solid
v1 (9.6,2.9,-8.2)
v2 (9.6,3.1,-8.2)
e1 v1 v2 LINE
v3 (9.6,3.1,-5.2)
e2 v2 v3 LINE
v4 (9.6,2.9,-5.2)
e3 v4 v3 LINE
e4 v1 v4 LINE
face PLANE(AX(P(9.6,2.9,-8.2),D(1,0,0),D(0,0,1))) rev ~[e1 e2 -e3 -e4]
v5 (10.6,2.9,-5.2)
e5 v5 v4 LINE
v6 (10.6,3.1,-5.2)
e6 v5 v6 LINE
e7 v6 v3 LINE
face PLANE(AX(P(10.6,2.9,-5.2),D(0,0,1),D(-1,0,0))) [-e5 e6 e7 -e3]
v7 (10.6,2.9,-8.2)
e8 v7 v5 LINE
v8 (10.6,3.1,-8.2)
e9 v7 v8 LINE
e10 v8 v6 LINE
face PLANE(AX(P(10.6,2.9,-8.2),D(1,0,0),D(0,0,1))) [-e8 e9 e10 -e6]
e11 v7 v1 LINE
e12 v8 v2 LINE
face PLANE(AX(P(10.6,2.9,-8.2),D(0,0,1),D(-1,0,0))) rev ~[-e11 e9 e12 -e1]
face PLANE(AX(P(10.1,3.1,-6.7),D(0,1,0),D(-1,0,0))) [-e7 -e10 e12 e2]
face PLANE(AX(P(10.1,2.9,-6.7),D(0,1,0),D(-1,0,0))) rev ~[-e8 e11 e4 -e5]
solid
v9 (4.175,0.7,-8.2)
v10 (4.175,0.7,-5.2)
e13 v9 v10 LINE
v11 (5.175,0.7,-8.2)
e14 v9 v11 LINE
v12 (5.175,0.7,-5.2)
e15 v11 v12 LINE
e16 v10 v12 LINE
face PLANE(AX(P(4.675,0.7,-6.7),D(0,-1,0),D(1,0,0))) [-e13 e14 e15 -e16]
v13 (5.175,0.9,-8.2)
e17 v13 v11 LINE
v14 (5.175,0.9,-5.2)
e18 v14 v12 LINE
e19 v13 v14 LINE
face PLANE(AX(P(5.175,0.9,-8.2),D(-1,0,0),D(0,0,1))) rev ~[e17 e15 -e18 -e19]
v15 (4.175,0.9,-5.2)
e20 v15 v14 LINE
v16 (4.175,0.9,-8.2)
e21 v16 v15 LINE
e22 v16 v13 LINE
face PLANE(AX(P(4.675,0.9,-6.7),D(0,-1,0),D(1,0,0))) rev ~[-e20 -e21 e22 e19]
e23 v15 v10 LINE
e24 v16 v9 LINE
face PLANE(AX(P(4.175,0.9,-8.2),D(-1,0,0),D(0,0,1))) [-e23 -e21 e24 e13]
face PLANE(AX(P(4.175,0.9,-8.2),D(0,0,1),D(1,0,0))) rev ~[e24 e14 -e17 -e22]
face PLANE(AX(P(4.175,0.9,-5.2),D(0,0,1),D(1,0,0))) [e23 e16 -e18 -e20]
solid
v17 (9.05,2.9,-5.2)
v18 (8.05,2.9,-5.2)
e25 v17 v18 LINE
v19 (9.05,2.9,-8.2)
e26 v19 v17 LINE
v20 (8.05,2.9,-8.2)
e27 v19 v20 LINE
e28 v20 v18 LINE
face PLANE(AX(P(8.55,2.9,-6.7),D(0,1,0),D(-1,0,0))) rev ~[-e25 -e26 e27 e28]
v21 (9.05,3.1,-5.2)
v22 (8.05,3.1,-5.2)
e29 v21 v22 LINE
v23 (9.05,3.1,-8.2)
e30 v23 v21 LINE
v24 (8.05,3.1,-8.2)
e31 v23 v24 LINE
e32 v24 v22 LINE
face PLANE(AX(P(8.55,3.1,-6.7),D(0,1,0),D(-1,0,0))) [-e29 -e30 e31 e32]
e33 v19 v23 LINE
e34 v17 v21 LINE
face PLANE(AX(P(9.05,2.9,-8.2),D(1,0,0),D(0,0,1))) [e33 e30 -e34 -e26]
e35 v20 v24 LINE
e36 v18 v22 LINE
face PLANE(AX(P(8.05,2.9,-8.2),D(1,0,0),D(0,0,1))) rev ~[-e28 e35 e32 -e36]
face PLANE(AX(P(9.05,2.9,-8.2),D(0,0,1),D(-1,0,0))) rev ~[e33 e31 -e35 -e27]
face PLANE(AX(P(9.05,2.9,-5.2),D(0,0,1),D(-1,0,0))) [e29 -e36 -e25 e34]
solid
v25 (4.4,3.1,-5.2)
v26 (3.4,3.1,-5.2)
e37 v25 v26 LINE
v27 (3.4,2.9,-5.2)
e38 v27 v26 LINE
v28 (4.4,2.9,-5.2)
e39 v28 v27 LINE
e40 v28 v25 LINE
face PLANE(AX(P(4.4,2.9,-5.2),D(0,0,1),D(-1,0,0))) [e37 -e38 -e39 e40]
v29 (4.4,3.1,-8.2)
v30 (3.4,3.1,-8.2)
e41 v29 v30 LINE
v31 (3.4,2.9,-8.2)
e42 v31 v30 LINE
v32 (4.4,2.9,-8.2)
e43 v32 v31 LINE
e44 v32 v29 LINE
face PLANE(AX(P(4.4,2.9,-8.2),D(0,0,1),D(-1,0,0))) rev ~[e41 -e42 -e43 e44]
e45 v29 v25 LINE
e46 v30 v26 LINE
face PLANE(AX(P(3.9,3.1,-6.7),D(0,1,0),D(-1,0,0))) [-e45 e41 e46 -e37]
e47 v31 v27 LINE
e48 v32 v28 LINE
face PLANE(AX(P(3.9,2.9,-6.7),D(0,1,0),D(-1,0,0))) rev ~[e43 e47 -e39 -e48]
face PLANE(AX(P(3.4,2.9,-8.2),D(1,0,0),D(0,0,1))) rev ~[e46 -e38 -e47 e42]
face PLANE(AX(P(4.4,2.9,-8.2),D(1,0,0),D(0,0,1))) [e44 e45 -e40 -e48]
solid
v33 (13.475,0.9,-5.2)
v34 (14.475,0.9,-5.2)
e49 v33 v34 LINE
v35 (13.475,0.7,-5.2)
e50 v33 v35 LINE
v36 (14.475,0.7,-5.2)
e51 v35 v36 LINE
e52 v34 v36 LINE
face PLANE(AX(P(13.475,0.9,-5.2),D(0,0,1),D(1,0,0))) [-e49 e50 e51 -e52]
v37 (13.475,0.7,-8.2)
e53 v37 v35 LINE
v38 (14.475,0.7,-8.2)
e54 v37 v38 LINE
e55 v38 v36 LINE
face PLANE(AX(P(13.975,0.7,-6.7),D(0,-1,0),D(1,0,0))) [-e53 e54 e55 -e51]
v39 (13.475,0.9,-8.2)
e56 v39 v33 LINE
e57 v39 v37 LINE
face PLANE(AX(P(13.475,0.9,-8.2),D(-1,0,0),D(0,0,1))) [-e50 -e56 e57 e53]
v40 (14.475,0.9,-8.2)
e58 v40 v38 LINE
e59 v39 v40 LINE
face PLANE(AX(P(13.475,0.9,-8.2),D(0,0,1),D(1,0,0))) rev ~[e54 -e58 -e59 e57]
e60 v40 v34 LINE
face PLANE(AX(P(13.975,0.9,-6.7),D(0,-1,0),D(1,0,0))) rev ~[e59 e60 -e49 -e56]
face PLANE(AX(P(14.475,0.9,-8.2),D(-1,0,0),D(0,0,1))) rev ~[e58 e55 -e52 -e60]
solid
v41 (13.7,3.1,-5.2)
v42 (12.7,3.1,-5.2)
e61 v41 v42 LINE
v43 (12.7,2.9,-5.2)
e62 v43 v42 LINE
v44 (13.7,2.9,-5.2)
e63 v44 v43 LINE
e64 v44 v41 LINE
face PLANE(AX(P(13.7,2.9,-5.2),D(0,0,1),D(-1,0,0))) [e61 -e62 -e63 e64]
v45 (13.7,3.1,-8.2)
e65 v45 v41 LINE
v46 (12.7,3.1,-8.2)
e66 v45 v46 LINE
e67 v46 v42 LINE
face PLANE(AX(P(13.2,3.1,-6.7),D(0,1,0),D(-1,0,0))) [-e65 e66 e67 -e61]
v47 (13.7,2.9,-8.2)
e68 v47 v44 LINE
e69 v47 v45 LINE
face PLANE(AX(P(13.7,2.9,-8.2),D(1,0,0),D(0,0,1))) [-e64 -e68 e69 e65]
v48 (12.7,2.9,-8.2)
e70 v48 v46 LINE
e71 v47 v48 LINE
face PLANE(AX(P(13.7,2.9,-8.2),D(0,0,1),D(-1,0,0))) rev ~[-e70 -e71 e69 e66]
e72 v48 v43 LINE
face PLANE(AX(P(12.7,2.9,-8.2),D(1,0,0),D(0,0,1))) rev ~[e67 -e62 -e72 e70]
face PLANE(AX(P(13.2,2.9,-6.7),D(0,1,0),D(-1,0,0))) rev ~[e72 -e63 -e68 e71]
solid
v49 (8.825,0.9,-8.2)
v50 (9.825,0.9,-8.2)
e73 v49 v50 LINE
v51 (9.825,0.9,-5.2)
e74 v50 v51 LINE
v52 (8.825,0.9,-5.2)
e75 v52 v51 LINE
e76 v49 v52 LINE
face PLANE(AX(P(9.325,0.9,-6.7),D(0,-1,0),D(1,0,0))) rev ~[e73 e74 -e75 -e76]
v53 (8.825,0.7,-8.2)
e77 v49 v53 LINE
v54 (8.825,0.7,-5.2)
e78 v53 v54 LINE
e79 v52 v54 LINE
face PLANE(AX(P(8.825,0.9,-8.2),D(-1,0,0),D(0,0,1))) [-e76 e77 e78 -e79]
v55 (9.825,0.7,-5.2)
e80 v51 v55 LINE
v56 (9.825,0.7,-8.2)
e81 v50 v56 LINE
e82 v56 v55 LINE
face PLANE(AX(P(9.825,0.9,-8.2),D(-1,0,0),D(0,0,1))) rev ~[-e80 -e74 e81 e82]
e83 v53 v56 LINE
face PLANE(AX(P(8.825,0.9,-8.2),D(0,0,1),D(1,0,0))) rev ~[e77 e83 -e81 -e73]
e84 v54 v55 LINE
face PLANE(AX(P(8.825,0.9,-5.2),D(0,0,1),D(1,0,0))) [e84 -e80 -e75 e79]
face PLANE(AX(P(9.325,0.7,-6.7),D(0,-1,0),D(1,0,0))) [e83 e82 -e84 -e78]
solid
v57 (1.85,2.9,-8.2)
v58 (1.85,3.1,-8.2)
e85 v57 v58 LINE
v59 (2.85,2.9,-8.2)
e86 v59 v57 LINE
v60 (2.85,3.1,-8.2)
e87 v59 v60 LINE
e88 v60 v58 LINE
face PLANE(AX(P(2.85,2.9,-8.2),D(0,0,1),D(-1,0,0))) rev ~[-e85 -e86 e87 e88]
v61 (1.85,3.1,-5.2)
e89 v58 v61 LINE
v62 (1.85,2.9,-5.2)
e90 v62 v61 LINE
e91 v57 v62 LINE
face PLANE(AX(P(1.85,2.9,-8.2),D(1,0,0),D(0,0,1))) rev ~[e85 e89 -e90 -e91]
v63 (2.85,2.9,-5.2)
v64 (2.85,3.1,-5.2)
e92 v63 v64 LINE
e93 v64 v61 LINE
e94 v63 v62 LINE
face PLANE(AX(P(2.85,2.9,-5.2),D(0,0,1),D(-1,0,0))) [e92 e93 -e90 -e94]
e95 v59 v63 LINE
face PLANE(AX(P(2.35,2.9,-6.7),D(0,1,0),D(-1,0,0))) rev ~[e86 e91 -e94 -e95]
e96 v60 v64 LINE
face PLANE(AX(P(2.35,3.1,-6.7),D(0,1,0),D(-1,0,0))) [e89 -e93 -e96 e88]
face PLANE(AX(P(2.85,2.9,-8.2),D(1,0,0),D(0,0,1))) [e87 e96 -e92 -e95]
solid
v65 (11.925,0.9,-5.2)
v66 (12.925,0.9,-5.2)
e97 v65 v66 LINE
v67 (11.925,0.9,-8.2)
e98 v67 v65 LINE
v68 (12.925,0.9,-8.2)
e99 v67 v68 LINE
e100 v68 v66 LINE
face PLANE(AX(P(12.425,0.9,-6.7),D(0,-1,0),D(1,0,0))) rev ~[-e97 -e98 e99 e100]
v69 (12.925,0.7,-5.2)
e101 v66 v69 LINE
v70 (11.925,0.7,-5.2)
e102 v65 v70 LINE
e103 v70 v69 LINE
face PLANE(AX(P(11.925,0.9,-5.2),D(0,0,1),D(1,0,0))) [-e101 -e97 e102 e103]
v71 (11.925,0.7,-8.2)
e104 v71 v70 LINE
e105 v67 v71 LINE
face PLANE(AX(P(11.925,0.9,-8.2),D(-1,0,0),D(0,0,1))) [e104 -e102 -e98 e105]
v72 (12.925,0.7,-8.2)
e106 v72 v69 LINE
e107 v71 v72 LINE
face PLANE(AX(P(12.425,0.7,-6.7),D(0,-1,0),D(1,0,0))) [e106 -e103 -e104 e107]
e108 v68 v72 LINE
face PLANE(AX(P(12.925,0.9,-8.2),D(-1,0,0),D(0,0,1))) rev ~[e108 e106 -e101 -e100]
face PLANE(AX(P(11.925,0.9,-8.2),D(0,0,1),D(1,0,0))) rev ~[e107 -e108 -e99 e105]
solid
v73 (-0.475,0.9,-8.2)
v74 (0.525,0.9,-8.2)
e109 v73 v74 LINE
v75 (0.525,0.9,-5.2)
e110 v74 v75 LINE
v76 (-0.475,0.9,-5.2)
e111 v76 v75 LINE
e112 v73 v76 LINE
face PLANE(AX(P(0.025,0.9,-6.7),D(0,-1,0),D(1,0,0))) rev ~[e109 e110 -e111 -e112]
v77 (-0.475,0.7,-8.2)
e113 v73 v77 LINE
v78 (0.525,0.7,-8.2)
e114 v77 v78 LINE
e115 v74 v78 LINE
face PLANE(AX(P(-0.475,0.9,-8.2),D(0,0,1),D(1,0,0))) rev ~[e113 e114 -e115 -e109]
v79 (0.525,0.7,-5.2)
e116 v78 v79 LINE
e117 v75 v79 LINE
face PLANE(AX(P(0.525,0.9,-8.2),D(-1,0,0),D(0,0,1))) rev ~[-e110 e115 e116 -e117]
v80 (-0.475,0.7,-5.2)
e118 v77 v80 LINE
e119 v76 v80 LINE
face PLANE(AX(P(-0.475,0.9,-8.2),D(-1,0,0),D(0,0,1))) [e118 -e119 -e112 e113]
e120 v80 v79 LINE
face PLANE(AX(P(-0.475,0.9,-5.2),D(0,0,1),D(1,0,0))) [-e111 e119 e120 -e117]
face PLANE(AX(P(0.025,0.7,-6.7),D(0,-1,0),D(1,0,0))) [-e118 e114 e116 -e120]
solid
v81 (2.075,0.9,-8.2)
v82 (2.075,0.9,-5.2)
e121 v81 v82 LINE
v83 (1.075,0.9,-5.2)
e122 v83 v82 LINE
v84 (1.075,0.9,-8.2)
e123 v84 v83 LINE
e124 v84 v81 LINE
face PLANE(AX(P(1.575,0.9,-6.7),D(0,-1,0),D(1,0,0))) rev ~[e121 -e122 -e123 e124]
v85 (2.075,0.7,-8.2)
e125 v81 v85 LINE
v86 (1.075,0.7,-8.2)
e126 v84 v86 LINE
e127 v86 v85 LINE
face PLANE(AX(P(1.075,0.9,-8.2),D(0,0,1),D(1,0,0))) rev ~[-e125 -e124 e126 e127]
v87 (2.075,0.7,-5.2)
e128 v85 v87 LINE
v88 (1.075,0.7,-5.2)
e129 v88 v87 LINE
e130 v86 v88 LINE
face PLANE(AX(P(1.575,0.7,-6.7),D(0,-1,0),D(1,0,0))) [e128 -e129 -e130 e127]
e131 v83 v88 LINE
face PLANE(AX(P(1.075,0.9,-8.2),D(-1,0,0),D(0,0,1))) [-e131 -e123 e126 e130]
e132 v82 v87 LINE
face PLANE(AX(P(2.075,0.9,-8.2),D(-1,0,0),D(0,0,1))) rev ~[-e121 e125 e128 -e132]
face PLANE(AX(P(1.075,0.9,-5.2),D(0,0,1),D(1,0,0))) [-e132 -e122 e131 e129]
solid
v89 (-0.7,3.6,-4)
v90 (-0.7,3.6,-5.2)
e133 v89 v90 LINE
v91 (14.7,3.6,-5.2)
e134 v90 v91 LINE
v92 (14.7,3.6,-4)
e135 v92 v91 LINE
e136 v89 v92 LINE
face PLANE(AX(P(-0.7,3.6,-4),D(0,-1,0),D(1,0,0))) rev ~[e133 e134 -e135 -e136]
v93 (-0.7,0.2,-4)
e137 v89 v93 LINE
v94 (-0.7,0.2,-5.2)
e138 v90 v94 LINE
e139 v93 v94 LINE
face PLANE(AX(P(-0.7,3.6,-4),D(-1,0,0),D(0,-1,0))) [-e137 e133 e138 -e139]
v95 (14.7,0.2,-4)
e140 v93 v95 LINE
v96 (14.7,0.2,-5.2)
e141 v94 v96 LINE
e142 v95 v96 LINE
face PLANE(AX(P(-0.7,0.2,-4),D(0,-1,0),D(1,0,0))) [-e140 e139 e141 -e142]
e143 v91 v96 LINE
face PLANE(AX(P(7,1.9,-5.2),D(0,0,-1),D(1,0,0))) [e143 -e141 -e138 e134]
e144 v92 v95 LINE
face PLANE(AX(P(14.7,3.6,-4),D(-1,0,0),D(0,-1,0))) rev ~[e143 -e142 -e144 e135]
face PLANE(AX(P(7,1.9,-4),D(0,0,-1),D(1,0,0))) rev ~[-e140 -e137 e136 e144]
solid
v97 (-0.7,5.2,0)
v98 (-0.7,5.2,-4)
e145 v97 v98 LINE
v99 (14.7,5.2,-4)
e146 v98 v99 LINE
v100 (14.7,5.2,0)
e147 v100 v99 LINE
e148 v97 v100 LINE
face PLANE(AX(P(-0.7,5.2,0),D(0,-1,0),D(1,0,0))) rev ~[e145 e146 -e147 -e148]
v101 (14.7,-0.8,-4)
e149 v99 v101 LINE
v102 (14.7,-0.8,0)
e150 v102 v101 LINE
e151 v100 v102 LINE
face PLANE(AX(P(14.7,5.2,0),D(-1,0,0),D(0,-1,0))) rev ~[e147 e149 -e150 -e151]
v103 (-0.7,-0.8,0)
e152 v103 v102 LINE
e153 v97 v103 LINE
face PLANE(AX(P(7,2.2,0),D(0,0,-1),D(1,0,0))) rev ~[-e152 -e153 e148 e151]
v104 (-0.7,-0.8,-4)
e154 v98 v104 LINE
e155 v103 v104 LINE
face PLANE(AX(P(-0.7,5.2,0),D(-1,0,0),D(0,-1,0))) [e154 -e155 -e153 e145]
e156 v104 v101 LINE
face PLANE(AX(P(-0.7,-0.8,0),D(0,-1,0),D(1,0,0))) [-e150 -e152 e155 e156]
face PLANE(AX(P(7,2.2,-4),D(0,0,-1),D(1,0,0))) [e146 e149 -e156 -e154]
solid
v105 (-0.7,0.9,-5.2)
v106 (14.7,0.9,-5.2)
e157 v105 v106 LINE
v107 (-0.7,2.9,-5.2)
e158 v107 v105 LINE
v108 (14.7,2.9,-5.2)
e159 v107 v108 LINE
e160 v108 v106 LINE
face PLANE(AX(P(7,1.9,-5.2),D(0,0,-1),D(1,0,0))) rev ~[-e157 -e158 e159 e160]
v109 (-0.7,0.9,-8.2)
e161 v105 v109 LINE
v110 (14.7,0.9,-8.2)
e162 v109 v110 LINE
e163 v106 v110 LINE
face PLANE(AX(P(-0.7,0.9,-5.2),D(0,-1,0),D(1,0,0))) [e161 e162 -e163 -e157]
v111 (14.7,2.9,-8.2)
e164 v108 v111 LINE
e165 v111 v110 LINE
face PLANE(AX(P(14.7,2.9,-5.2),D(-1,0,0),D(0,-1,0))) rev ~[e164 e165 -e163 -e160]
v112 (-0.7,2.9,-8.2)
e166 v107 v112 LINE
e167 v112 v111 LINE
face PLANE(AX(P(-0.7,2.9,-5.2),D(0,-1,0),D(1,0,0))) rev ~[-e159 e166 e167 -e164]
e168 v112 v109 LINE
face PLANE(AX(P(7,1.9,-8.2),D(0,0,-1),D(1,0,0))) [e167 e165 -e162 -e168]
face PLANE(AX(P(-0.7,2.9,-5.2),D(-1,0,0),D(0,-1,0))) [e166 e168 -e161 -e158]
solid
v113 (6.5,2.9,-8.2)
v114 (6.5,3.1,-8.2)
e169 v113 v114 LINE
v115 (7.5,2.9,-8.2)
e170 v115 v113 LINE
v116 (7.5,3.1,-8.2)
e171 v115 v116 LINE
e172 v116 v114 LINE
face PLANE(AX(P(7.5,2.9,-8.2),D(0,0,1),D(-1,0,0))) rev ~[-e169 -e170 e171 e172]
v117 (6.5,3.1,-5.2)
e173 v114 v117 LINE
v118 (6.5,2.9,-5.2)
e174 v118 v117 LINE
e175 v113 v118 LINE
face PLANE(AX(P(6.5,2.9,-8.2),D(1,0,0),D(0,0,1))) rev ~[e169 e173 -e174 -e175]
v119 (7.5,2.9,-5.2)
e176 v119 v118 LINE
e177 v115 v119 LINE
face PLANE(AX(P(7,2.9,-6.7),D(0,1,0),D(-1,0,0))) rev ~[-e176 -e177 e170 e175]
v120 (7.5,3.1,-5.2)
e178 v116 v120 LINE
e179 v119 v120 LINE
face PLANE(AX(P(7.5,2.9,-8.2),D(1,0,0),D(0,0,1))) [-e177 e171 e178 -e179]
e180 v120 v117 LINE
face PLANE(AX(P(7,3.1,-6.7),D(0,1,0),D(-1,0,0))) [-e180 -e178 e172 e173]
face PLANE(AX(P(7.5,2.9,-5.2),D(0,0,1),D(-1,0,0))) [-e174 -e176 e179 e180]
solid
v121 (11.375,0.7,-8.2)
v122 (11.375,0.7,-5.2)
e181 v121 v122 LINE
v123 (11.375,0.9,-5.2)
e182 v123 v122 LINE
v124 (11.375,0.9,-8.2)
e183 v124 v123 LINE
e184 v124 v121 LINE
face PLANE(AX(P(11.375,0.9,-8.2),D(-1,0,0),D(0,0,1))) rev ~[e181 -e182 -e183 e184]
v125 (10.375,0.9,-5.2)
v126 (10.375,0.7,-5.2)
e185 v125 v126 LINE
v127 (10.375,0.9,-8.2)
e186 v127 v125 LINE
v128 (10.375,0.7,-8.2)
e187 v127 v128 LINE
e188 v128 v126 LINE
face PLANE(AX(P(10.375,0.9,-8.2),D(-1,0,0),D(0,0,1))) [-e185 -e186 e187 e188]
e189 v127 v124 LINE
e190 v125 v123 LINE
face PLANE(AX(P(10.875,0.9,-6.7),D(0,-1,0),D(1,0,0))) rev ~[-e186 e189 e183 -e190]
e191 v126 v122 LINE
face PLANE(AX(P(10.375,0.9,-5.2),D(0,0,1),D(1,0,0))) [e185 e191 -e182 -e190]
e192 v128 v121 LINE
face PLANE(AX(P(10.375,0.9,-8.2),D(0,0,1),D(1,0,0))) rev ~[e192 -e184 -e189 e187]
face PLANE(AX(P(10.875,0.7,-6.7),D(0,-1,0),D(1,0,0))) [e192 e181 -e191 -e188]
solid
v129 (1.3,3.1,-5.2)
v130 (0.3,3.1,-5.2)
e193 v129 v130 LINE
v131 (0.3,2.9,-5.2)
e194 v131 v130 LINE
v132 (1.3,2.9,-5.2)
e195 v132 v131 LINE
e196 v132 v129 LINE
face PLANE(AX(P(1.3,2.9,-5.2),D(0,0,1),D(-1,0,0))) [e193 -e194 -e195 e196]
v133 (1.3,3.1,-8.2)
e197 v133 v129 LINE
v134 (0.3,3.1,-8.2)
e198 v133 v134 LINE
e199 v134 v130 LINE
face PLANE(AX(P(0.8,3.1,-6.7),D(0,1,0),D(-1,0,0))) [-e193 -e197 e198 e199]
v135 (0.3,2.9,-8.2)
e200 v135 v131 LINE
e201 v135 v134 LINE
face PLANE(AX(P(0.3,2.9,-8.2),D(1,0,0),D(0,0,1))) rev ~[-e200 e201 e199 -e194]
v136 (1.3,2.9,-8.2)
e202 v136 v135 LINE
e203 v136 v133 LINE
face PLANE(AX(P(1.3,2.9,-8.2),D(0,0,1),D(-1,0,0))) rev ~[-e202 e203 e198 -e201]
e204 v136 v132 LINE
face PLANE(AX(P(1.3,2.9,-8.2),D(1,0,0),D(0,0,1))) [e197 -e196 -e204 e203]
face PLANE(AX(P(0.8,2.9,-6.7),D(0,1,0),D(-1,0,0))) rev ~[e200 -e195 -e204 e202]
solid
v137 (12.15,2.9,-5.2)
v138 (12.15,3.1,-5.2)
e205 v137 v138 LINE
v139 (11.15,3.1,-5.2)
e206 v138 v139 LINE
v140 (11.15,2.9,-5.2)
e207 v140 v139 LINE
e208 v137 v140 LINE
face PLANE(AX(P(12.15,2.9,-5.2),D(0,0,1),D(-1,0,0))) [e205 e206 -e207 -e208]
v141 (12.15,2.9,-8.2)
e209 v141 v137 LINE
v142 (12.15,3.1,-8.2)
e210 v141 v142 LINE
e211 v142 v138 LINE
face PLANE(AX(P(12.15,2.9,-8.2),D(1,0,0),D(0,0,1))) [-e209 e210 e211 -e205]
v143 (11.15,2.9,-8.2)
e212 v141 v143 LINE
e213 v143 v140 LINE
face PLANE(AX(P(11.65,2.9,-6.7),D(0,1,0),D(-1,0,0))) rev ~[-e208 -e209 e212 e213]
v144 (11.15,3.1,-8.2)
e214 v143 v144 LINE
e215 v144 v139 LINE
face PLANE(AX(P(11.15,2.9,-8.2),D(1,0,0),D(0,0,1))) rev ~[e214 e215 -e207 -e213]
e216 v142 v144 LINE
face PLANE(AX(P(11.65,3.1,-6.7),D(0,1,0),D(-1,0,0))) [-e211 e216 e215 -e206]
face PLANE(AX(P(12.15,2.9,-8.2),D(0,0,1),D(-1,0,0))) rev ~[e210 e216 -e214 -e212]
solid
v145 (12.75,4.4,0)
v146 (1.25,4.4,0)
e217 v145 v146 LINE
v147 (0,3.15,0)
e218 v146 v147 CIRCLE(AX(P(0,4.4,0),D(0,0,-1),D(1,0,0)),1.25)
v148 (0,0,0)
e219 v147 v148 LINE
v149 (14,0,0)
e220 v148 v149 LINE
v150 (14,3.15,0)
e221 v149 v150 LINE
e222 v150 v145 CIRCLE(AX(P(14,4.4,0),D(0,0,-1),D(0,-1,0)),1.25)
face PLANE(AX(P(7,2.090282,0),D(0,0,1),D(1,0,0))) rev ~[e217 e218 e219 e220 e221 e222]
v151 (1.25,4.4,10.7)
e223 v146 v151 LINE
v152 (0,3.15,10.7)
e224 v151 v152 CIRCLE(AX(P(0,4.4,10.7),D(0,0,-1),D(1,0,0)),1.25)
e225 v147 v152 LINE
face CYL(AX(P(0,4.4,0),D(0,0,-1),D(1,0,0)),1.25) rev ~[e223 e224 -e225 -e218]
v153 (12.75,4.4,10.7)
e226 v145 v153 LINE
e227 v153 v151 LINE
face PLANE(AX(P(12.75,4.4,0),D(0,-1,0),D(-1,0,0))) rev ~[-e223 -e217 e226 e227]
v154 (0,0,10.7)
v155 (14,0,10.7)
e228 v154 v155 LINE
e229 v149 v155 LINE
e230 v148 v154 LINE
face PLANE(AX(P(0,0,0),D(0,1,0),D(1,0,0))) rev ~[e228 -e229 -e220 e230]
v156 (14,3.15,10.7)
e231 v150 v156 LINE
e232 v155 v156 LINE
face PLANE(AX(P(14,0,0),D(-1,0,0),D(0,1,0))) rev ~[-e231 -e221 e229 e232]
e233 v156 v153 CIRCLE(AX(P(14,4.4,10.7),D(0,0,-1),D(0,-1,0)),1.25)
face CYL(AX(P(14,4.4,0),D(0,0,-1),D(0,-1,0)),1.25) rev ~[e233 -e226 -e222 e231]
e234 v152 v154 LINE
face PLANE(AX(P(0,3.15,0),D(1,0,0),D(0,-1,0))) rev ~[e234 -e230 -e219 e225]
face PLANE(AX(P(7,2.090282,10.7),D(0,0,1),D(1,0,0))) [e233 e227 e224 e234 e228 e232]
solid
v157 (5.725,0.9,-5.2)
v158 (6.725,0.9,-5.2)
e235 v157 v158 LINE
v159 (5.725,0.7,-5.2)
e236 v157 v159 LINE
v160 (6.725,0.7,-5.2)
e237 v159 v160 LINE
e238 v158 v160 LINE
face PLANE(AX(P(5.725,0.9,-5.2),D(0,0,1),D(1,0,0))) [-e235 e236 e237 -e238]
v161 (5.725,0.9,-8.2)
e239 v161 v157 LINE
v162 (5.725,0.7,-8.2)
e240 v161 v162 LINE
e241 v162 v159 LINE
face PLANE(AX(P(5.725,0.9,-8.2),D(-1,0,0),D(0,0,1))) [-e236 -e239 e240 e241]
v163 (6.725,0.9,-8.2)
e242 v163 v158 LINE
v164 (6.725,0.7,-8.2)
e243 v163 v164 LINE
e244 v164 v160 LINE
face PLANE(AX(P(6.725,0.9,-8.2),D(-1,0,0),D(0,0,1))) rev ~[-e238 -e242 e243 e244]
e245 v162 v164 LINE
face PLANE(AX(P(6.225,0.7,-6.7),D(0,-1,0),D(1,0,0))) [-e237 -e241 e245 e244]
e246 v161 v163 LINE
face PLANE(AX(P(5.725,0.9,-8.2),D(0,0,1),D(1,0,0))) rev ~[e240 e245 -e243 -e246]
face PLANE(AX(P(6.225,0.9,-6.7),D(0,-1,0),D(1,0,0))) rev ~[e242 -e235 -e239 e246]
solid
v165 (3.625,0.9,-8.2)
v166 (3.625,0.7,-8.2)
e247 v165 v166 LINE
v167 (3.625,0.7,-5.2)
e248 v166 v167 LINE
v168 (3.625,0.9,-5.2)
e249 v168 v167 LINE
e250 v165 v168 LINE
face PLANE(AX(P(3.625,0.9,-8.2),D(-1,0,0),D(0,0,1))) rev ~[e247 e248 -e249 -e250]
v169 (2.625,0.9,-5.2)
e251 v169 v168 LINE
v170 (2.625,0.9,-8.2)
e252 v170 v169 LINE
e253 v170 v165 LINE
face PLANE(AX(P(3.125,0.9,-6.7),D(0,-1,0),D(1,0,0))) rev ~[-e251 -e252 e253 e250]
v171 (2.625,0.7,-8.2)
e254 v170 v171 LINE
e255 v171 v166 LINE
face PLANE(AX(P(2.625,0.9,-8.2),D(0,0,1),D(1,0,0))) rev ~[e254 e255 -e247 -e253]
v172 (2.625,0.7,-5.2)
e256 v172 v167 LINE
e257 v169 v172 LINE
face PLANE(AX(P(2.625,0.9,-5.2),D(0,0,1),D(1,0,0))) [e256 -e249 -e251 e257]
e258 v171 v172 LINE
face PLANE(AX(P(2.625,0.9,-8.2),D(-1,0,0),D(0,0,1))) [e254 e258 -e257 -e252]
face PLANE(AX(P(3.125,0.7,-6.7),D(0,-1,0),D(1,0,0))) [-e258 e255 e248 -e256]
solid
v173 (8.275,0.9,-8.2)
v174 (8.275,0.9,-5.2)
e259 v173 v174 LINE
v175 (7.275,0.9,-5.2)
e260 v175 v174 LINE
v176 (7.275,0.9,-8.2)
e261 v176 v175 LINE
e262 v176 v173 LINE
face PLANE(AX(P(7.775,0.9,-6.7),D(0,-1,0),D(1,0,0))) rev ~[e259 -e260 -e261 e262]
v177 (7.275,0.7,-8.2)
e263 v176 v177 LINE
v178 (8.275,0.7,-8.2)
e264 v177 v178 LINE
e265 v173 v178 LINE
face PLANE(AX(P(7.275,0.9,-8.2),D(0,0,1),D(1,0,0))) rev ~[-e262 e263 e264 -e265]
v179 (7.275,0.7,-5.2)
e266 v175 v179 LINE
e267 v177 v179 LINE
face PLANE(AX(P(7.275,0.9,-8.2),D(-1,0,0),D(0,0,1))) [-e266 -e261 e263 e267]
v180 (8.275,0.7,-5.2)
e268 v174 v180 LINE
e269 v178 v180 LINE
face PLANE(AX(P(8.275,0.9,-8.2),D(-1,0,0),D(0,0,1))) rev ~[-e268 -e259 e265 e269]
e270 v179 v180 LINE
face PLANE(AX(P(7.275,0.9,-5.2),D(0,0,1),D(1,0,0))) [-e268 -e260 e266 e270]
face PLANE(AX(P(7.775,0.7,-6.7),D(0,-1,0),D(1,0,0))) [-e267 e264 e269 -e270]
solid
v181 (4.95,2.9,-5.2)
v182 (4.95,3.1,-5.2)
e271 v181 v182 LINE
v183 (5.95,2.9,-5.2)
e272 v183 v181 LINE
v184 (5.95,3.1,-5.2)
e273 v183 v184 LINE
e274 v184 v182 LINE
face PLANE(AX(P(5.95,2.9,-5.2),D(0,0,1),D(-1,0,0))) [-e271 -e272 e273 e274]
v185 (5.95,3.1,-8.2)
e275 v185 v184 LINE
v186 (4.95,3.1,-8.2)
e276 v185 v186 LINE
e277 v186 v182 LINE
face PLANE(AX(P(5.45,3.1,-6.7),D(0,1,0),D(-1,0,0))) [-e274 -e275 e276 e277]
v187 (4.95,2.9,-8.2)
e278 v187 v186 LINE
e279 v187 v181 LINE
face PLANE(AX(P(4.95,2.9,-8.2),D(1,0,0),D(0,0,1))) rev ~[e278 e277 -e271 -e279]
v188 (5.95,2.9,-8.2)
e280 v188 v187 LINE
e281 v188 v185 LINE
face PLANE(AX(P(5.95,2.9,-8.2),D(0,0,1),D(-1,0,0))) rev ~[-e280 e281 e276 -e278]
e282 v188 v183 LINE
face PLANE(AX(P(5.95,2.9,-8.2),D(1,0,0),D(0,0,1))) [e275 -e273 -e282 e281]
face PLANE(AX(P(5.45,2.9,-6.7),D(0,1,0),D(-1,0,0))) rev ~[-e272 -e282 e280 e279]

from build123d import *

# Parameters (mm, degrees)
F1_DEPTH  = 10.7
F2_W      = 15.4
F2_H      = 6
F3_DEPTH  = 4
F4_W      = 15.4
F4_H      = 3.4
F5_DEPTH  = 1.2
F6_W      = 15.4
F6_H      = 2
F7_DEPTH  = 3
F8_W      = 1
F8_H      = 3
F9_DEPTH  = 0.2
F10_W     = 1
F10_H     = 3
F11_DEPTH = 0.2


with BuildPart() as f1:
    # F0 (on Top) → F1 (new body)
    with BuildSketch(Plane.XY):
        with BuildLine():
            Line((0, 3.15), (0, 0))
            Line((0, 0), (14, 0))
            Line((14, 0), (14, 3.15))
            ThreePointArc((14, 3.15), (13.1161165235, 3.5161165235), (12.75, 4.4))
            Line((12.75, 4.4), (1.25, 4.4))
            ThreePointArc((1.25, 4.4), (0.8838834765, 3.5161165235), (0, 3.15))
        make_face()
    extrude(amount=F1_DEPTH)


with BuildPart() as f3:
    # F2 (on face) → F3 (new body)
    with BuildSketch(Plane(origin=(0, 0, 0), x_dir=(1, 0, 0), z_dir=(0, 0, -1))):
        with Locations((7, -2.2)):
            Rectangle(F2_W, F2_H)
        with BuildLine():
            Line((0, -3.15), (0, 0))
            Line((0, 0), (14, 0))
            Line((14, 0), (14, -3.15))
            ThreePointArc((14, -3.15), (13.1161165235, -3.5161165235), (12.75, -4.4))
            Line((12.75, -4.4), (1.25, -4.4))
            ThreePointArc((1.25, -4.4), (0.8838834765, -3.5161165235), (0, -3.15))
        make_face(mode=Mode.SUBTRACT)
        with BuildLine():
            Line((14, 0), (0, 0))
            Line((0, 0), (0, -3.15))
            ThreePointArc((0, -3.15), (0.8838834765, -3.5161165235), (1.25, -4.4))
            Line((1.25, -4.4), (12.75, -4.4))
            ThreePointArc((12.75, -4.4), (13.1161165235, -3.5161165235), (14, -3.15))
            Line((14, -3.15), (14, 0))
        make_face()
    extrude(amount=F3_DEPTH)


with BuildPart() as f5:
    # F4 (on face) → F5 (new body)
    with BuildSketch(Plane(origin=(0, 0, -4), x_dir=(1, 0, 0), z_dir=(0, 0, -1))):
        with Locations((7, -1.9)):
            Rectangle(F4_W, F4_H)
    extrude(amount=F5_DEPTH)


with BuildPart() as f7:
    # F6 (on face) → F7 (new body)
    with BuildSketch(Plane(origin=(0, 0, -5.2), x_dir=(1, 0, 0), z_dir=(0, 0, -1))):
        with Locations((7, -1.9)):
            Rectangle(F6_W, F6_H)
    extrude(amount=F7_DEPTH)


with BuildPart() as f9:
    # F8 (on face) → F9 (new body)
    with BuildSketch(Plane.XZ.offset(-0.9)):
        with Locations((0.025, -6.7)):
            Rectangle(F8_W, F8_H)
    extrude(amount=F9_DEPTH)


with BuildPart() as f9b:
    # F8 (on face) → F9, piece 2 (new body)
    with BuildSketch(Plane.XZ.offset(-0.9)):
        with Locations((1.575, -6.7)):
            Rectangle(F8_W, F8_H)
    extrude(amount=F9_DEPTH)


with BuildPart() as f9c:
    # F8 (on face) → F9, piece 3 (new body)
    with BuildSketch(Plane.XZ.offset(-0.9)):
        with Locations((3.125, -6.7)):
            Rectangle(F8_W, F8_H)
    extrude(amount=F9_DEPTH)


with BuildPart() as f9d:
    # F8 (on face) → F9, piece 4 (new body)
    with BuildSketch(Plane.XZ.offset(-0.9)):
        with Locations((4.675, -6.7)):
            Rectangle(F8_W, F8_H)
    extrude(amount=F9_DEPTH)


with BuildPart() as f9e:
    # F8 (on face) → F9, piece 5 (new body)
    with BuildSketch(Plane.XZ.offset(-0.9)):
        with Locations((6.225, -6.7)):
            Rectangle(F8_W, F8_H)
    extrude(amount=F9_DEPTH)


with BuildPart() as f9f:
    # F8 (on face) → F9, piece 6 (new body)
    with BuildSketch(Plane.XZ.offset(-0.9)):
        with Locations((7.775, -6.7)):
            Rectangle(F8_W, F8_H)
    extrude(amount=F9_DEPTH)


with BuildPart() as f9g:
    # F8 (on face) → F9, piece 7 (new body)
    with BuildSketch(Plane.XZ.offset(-0.9)):
        with Locations((9.325, -6.7)):
            Rectangle(F8_W, F8_H)
    extrude(amount=F9_DEPTH)


with BuildPart() as f9h:
    # F8 (on face) → F9, piece 8 (new body)
    with BuildSketch(Plane.XZ.offset(-0.9)):
        with Locations((10.875, -6.7)):
            Rectangle(F8_W, F8_H)
    extrude(amount=F9_DEPTH)


with BuildPart() as f9i:
    # F8 (on face) → F9, piece 9 (new body)
    with BuildSketch(Plane.XZ.offset(-0.9)):
        with Locations((12.425, -6.7)):
            Rectangle(F8_W, F8_H)
    extrude(amount=F9_DEPTH)


with BuildPart() as f9j:
    # F8 (on face) → F9, piece 10 (new body)
    with BuildSketch(Plane.XZ.offset(-0.9)):
        with Locations((13.975, -6.7)):
            Rectangle(F8_W, F8_H)
    extrude(amount=F9_DEPTH)


with BuildPart() as f11:
    # F10 (on face) → F11 (new body)
    with BuildSketch(Plane(origin=(0, 2.9, 0), x_dir=(-1, 0, 0), z_dir=(0, 1, 0))):
        with Locations((-13.2, -6.7)):
            Rectangle(F10_W, F10_H)
    extrude(amount=F11_DEPTH)


with BuildPart() as f11b:
    # F10 (on face) → F11, piece 2 (new body)
    with BuildSketch(Plane(origin=(0, 2.9, 0), x_dir=(-1, 0, 0), z_dir=(0, 1, 0))):
        with Locations((-11.65, -6.7)):
            Rectangle(F10_W, F10_H)
    extrude(amount=F11_DEPTH)


with BuildPart() as f11c:
    # F10 (on face) → F11, piece 3 (new body)
    with BuildSketch(Plane(origin=(0, 2.9, 0), x_dir=(-1, 0, 0), z_dir=(0, 1, 0))):
        with Locations((-10.1, -6.7)):
            Rectangle(F10_W, F10_H)
    extrude(amount=F11_DEPTH)


with BuildPart() as f11d:
    # F10 (on face) → F11, piece 4 (new body)
    with BuildSketch(Plane(origin=(0, 2.9, 0), x_dir=(-1, 0, 0), z_dir=(0, 1, 0))):
        with Locations((-8.55, -6.7)):
            Rectangle(F10_W, F10_H)
    extrude(amount=F11_DEPTH)


with BuildPart() as f11e:
    # F10 (on face) → F11, piece 5 (new body)
    with BuildSketch(Plane(origin=(0, 2.9, 0), x_dir=(-1, 0, 0), z_dir=(0, 1, 0))):
        with Locations((-7, -6.7)):
            Rectangle(F10_W, F10_H)
    extrude(amount=F11_DEPTH)


with BuildPart() as f11f:
    # F10 (on face) → F11, piece 6 (new body)
    with BuildSketch(Plane(origin=(0, 2.9, 0), x_dir=(-1, 0, 0), z_dir=(0, 1, 0))):
        with Locations((-5.45, -6.7)):
            Rectangle(F10_W, F10_H)
    extrude(amount=F11_DEPTH)


with BuildPart() as f11g:
    # F10 (on face) → F11, piece 7 (new body)
    with BuildSketch(Plane(origin=(0, 2.9, 0), x_dir=(-1, 0, 0), z_dir=(0, 1, 0))):
        with Locations((-3.9, -6.7)):
            Rectangle(F10_W, F10_H)
    extrude(amount=F11_DEPTH)


with BuildPart() as f11h:
    # F10 (on face) → F11, piece 8 (new body)
    with BuildSketch(Plane(origin=(0, 2.9, 0), x_dir=(-1, 0, 0), z_dir=(0, 1, 0))):
        with Locations((-2.35, -6.7)):
            Rectangle(F10_W, F10_H)
    extrude(amount=F11_DEPTH)


with BuildPart() as f11i:
    # F10 (on face) → F11, piece 9 (new body)
    with BuildSketch(Plane(origin=(0, 2.9, 0), x_dir=(-1, 0, 0), z_dir=(0, 1, 0))):
        with Locations((-0.8, -6.7)):
            Rectangle(F10_W, F10_H)
    extrude(amount=F11_DEPTH)


solid = Compound([f1.part, f3.part, f5.part, f7.part, f9.part, f9b.part, f9c.part, f9d.part, f9e.part, f9f.part, f9g.part, f9h.part, f9i.part, f9j.part, f11.part, f11b.part, f11c.part, f11d.part, f11e.part, f11f.part, f11g.part, f11h.part, f11i.part])
